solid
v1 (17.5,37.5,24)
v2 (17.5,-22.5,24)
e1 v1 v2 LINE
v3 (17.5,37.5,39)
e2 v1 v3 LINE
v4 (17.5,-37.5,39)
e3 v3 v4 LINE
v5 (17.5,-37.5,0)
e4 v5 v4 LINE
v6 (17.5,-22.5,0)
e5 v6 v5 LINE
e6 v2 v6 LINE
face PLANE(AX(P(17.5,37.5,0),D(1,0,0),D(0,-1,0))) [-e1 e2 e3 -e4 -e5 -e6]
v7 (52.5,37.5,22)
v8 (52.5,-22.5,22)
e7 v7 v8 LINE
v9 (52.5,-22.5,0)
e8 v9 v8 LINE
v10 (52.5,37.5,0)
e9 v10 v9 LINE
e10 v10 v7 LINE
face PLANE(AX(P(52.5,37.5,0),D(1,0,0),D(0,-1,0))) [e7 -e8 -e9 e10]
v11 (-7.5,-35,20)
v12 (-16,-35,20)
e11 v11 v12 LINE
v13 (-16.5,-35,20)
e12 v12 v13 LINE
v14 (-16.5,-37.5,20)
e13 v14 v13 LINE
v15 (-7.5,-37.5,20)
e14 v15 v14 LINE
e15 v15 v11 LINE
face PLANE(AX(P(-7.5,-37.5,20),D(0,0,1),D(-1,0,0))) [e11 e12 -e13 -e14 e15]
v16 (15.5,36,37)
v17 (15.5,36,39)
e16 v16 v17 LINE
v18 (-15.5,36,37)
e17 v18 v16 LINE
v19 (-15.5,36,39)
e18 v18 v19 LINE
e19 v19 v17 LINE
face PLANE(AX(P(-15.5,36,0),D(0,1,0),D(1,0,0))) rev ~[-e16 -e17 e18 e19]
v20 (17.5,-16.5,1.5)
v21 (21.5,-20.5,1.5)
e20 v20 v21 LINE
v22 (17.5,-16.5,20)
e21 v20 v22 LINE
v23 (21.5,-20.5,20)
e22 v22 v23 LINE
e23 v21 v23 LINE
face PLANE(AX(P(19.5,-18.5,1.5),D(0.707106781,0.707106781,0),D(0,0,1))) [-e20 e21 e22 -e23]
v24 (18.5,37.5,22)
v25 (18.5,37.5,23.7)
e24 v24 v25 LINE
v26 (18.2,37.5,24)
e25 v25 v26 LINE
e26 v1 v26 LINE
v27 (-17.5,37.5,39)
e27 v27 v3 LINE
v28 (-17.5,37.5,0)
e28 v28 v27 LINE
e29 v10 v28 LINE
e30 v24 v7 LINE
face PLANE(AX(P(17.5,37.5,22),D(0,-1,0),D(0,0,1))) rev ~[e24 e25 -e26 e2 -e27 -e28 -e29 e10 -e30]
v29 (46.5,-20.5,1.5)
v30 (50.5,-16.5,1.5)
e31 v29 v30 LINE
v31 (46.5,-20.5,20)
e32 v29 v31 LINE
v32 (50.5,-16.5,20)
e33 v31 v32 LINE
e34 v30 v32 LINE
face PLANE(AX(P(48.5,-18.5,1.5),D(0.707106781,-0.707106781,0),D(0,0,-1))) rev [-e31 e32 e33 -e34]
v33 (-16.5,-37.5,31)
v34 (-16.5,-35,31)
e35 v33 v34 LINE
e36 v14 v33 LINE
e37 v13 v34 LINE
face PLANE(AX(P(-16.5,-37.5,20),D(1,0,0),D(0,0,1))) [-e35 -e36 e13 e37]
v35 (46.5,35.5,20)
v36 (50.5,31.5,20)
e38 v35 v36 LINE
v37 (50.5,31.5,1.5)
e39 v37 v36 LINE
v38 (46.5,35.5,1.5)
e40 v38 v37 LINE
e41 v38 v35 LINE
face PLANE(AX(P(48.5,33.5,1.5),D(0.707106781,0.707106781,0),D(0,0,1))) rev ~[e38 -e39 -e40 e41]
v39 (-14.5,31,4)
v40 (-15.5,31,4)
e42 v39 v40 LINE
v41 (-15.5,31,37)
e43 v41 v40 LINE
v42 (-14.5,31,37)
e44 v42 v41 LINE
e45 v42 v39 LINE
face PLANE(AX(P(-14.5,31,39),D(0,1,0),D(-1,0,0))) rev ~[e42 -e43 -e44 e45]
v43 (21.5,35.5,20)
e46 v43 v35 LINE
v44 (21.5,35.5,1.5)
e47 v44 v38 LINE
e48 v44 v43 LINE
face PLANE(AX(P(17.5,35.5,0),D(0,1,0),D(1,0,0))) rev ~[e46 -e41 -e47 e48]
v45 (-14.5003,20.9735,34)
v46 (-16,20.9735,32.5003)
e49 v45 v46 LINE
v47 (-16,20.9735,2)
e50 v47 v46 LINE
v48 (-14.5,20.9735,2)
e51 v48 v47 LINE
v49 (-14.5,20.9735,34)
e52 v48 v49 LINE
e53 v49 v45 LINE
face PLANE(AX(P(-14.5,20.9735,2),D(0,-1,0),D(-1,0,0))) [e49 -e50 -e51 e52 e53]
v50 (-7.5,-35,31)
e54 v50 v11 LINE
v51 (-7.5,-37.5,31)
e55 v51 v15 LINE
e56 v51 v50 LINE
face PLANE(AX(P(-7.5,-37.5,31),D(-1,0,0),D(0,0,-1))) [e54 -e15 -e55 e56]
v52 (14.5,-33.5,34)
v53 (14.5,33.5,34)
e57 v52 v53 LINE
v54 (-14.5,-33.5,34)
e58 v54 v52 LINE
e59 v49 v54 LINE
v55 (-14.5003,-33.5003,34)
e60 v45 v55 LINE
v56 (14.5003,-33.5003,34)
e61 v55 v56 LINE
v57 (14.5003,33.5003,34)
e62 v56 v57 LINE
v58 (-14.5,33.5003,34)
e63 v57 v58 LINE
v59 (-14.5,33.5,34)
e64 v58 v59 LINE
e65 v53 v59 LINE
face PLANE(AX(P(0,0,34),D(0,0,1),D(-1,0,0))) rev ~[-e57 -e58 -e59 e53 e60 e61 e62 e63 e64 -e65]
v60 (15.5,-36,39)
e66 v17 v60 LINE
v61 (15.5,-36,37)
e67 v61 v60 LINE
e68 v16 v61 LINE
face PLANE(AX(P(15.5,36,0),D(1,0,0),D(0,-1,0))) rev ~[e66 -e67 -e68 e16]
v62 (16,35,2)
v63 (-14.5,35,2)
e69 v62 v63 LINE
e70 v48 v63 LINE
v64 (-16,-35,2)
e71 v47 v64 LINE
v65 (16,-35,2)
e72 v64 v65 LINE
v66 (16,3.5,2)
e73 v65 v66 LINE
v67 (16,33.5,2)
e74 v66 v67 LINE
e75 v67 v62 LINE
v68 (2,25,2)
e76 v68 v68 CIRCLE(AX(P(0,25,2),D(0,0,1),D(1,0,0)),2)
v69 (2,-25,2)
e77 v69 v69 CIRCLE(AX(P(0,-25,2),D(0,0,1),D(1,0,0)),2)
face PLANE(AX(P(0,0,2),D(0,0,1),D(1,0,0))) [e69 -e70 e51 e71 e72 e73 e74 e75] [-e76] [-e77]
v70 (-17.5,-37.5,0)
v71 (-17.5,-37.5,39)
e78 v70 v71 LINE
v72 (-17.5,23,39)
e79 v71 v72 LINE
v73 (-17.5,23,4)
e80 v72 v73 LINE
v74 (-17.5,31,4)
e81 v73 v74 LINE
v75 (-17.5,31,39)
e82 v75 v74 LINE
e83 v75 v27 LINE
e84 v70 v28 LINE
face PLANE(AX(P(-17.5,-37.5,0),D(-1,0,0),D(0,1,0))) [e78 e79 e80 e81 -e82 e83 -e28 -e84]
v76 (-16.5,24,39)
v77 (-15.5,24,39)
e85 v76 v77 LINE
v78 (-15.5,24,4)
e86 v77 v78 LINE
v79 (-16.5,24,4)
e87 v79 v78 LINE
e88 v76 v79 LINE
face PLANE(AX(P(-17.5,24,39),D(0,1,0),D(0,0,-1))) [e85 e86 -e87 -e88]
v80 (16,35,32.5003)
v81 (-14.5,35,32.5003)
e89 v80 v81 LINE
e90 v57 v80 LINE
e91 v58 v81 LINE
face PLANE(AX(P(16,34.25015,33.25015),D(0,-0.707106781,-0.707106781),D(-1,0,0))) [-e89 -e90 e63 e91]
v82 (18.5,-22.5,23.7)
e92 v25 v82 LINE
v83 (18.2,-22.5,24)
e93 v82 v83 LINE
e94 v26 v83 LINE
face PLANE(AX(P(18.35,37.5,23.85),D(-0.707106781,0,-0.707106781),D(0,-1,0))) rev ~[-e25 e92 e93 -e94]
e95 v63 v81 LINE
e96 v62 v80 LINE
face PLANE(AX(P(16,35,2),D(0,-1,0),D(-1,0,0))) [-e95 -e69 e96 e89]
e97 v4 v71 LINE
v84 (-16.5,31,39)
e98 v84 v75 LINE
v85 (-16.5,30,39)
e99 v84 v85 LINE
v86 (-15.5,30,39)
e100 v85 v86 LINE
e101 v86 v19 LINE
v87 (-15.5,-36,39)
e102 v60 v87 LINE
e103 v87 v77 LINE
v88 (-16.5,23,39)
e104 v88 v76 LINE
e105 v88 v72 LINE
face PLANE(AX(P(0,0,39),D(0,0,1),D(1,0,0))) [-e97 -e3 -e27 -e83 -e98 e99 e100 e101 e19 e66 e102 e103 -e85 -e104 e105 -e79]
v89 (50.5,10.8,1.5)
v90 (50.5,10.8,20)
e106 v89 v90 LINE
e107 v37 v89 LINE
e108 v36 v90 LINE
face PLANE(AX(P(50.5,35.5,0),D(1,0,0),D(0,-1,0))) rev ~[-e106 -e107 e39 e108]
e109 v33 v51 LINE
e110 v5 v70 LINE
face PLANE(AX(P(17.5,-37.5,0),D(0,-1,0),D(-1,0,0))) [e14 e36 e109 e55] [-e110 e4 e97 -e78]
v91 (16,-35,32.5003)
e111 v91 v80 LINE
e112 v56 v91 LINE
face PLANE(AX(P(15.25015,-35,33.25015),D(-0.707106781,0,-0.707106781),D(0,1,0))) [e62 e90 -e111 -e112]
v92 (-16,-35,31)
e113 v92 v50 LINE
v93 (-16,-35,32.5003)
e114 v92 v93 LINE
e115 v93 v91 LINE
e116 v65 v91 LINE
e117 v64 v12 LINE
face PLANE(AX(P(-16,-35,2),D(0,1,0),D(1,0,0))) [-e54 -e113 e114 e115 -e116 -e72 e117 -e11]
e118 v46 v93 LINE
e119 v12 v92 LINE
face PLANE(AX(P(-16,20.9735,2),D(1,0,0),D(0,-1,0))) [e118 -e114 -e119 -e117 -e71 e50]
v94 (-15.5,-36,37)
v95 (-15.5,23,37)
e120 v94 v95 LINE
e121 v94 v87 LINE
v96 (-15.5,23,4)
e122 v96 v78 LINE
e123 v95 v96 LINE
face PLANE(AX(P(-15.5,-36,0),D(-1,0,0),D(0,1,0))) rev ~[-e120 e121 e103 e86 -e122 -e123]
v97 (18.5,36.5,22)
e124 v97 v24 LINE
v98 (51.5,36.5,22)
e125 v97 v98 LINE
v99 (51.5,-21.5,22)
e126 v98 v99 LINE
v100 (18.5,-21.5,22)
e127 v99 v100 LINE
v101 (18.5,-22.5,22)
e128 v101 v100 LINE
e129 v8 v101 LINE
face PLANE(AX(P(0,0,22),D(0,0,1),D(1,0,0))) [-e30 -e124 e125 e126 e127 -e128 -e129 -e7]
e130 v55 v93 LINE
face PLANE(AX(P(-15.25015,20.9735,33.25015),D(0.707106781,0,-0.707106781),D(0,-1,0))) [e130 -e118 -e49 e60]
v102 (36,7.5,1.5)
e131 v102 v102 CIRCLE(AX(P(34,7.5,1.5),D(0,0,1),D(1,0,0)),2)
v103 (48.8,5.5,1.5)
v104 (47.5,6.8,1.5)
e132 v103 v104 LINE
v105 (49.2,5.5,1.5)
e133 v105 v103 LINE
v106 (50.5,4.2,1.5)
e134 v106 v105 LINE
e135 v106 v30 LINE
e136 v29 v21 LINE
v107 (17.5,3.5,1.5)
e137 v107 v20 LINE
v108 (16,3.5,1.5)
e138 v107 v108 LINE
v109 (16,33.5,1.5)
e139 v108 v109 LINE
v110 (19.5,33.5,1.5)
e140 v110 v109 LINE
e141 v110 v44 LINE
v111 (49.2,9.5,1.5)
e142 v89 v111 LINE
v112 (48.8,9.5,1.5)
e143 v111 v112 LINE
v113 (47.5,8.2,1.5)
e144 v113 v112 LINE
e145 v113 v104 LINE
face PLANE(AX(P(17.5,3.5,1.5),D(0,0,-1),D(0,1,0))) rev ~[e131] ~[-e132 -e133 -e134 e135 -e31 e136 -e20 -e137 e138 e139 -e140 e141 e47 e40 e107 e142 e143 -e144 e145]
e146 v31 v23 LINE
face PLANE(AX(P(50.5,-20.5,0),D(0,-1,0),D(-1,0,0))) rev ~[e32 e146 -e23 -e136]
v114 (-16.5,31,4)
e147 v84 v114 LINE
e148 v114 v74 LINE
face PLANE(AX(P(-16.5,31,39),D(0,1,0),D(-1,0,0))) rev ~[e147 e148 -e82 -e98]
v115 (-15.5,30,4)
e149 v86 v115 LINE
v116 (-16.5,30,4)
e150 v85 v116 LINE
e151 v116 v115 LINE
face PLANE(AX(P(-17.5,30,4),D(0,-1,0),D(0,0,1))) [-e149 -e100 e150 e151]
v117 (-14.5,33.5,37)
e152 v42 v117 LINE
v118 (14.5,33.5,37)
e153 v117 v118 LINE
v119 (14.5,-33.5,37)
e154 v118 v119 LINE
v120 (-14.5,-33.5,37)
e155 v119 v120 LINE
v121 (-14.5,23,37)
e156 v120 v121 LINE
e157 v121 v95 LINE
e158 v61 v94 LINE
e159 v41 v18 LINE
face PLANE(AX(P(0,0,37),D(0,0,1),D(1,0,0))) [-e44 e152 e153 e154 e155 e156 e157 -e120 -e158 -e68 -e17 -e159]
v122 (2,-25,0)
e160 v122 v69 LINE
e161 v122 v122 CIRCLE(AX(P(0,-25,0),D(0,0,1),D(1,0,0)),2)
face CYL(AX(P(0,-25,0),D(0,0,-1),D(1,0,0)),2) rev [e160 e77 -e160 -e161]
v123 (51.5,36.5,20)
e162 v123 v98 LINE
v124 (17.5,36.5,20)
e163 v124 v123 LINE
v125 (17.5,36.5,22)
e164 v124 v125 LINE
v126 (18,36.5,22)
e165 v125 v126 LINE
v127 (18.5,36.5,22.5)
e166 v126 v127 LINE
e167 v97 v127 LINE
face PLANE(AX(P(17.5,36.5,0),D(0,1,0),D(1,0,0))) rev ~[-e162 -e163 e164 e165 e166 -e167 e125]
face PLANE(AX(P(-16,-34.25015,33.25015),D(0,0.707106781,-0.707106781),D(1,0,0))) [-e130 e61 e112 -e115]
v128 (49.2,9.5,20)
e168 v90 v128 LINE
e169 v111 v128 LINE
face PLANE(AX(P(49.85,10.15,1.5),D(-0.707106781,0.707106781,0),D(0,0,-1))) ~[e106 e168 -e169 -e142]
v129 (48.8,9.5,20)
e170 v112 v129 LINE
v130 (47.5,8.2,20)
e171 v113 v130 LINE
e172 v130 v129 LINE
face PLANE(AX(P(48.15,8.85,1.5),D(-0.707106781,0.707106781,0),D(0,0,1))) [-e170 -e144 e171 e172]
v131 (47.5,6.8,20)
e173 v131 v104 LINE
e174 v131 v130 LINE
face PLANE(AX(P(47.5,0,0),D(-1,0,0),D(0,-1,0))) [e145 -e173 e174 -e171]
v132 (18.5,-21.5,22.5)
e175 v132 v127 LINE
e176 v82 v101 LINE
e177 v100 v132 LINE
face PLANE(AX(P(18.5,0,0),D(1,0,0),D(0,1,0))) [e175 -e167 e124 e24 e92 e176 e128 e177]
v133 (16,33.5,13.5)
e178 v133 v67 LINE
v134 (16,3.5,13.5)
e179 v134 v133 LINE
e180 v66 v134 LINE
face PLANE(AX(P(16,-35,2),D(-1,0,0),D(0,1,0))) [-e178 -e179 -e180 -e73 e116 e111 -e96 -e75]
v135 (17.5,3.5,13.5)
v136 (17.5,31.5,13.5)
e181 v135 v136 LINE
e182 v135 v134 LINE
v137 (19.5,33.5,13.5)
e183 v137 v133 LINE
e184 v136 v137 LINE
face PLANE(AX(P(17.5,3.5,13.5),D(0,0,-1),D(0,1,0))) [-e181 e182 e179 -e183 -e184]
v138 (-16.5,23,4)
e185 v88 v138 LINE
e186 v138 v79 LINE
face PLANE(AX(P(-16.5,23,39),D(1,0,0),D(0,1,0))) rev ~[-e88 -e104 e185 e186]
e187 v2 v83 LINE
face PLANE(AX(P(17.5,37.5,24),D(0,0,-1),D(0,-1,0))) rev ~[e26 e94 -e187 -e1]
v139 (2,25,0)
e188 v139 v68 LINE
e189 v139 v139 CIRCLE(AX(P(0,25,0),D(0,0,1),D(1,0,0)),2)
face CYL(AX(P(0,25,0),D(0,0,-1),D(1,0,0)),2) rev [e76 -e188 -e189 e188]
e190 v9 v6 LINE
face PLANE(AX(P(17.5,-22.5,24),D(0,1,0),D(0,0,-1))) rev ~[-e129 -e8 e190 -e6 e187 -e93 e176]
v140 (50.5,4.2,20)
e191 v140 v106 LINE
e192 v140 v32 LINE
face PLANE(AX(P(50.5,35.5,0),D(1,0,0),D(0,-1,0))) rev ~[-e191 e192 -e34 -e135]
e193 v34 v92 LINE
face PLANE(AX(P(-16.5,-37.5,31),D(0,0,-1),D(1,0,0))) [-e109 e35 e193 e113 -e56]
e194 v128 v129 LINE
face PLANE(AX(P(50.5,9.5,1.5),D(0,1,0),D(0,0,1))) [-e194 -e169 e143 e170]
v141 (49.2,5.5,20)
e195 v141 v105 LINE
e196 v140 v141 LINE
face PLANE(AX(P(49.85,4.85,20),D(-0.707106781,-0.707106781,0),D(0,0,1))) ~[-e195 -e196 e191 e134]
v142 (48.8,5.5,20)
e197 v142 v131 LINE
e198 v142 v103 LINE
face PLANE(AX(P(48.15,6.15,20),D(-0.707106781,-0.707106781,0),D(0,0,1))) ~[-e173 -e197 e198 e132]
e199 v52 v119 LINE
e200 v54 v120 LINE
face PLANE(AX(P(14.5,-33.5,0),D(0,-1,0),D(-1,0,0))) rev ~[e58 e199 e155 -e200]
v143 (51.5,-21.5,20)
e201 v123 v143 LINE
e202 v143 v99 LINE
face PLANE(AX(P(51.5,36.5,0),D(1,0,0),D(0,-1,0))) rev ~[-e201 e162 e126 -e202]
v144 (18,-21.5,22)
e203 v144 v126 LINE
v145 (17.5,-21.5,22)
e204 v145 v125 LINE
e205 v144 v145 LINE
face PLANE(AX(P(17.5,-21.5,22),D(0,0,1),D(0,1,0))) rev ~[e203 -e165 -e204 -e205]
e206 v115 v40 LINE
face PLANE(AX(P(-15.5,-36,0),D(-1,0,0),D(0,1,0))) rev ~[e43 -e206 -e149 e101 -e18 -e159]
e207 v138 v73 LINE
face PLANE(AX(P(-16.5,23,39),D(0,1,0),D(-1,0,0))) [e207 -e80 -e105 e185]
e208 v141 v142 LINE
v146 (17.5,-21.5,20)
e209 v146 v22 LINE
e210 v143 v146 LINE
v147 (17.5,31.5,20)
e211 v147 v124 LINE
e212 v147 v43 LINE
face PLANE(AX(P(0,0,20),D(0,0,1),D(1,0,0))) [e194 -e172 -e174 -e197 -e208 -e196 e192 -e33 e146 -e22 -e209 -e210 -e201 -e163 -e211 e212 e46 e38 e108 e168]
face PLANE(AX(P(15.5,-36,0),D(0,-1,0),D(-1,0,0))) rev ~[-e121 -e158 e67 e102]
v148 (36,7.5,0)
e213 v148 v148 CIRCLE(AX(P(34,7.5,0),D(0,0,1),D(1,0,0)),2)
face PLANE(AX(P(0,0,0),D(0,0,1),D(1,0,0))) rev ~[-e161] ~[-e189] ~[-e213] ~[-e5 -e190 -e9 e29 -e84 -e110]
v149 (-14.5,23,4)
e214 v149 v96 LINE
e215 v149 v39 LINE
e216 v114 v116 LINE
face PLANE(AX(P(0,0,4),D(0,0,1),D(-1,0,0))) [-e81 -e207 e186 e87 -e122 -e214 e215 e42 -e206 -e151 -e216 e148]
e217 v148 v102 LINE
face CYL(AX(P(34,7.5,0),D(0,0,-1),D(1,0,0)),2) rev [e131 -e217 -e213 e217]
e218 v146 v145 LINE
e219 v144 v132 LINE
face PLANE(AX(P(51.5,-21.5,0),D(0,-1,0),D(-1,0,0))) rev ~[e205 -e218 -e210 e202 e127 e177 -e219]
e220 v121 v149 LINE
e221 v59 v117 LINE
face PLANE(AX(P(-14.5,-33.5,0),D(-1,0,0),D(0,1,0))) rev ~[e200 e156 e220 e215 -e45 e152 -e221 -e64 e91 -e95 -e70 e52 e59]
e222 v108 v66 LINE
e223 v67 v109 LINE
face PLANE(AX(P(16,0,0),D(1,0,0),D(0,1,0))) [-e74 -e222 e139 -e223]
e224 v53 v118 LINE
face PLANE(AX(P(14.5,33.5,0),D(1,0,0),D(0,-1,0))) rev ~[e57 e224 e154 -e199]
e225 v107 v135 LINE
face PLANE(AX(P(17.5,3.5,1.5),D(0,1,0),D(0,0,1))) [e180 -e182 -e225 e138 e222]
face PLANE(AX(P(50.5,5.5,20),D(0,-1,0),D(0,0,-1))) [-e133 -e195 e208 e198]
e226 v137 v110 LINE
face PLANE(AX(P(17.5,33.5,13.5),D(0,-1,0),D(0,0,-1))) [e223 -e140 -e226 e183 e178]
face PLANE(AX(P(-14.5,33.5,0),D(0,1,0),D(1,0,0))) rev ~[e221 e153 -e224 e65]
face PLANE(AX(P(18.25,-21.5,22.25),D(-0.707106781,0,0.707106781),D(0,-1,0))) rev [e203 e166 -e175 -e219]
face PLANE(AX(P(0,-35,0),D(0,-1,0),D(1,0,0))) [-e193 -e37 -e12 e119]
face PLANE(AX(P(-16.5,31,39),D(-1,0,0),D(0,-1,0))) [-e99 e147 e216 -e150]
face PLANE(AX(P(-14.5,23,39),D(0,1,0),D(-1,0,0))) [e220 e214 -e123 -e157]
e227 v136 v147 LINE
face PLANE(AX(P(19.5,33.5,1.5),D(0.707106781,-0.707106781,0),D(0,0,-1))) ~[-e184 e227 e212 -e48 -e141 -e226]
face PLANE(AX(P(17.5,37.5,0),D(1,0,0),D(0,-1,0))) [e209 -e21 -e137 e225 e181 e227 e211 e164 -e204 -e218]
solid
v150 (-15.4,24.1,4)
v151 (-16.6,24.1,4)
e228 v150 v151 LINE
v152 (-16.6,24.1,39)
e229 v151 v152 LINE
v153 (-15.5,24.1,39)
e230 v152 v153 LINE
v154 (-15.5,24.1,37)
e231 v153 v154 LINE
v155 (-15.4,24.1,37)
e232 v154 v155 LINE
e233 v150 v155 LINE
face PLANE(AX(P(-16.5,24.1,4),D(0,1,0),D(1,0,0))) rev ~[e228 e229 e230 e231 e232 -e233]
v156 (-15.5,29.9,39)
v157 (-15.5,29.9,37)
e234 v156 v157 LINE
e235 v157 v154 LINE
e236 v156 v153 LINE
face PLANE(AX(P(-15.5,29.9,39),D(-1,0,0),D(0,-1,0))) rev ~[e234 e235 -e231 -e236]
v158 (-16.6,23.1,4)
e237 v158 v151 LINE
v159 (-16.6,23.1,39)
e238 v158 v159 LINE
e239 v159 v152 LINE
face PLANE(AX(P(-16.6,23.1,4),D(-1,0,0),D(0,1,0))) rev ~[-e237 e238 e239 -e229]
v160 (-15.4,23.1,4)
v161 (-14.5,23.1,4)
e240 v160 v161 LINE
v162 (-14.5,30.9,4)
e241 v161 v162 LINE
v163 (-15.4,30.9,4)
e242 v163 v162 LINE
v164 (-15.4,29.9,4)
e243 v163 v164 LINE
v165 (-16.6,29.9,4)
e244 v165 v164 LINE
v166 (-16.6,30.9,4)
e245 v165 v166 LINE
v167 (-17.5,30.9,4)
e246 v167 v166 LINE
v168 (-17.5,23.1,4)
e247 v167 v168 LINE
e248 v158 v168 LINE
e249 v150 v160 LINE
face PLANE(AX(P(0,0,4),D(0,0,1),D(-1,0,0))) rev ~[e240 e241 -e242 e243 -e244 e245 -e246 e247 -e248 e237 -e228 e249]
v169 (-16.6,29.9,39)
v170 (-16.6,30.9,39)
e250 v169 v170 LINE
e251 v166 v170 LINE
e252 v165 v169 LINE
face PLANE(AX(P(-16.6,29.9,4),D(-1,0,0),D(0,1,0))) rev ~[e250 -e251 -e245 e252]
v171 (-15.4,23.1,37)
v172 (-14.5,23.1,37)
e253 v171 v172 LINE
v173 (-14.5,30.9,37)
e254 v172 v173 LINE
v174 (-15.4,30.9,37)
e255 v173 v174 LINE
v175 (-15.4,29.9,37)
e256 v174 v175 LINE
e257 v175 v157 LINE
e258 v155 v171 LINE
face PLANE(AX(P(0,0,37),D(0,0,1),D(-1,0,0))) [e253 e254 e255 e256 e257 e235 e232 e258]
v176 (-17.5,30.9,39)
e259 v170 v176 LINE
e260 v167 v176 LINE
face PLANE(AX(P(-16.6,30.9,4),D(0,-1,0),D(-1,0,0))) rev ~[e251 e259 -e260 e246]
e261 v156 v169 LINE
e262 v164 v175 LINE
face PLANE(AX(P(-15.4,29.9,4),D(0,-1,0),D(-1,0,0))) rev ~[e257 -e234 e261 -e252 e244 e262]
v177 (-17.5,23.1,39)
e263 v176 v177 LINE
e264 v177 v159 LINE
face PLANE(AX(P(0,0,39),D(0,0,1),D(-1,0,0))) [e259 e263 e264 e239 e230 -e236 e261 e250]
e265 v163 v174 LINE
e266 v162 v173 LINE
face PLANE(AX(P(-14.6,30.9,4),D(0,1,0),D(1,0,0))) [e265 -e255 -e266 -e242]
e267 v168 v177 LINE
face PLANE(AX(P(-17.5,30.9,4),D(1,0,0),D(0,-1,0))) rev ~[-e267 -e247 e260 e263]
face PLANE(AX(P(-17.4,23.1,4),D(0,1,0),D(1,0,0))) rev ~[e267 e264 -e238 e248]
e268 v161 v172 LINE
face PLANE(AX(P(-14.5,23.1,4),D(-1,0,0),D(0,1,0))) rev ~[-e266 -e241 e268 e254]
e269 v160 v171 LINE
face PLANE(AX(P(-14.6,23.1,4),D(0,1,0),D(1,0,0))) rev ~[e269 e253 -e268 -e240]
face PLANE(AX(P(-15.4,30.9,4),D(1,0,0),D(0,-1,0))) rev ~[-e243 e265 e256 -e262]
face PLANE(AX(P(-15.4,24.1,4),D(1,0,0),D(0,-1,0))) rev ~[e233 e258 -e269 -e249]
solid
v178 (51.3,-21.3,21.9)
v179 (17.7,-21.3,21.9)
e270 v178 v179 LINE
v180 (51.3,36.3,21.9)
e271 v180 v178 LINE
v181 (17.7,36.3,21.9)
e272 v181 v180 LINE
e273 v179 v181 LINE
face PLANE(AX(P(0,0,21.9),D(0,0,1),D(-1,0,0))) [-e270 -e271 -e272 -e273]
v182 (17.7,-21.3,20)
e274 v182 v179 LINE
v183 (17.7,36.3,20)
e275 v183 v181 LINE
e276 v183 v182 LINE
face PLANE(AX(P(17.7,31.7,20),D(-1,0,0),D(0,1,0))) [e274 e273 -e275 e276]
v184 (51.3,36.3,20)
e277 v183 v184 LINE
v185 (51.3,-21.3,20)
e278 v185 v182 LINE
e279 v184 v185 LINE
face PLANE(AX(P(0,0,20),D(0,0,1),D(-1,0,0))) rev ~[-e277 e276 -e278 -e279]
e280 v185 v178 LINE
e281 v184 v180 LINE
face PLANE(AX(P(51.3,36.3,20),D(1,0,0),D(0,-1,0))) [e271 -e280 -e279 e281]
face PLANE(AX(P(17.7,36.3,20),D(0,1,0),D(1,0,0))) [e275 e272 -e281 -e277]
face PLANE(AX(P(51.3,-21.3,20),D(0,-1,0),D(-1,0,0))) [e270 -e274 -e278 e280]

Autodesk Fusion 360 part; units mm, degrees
sketch "Sketch1" plane through (0, 0, 0) normal (0, 0, 1) x (1, 0, 0)
  line L0 (-17.5, 37.5) -> (17.5, 37.5)
  line L1 (17.5, 37.5) -> (17.5, -37.5)
  line L2 (17.5, -37.5) -> (-17.5, -37.5)
  line L3 (-17.5, -37.5) -> (-17.5, 37.5)
  line L4 (-14.5, 33.5) -> (14.5, 33.5)
  line L5 (14.5, 33.5) -> (14.5, -33.5)
  line L6 (14.5, -33.5) -> (-14.5, -33.5)
  line L7 (-14.5, -33.5) -> (-14.5, 33.5)
  line L8 (-15.5, 36) -> (15.5, 36)
  line L9 (15.5, 36) -> (15.5, -36)
  line L10 (15.5, -36) -> (-15.5, -36)
  line L11 (-15.5, -36) -> (-15.5, 36)
  line L12 (-14.5, -33.5) -> (14.5, 33.5) construction
  line L13 (-15.5, -36) -> (15.5, 36) construction
  line L14 (-17.5, -37.5) -> (17.5, 37.5) construction
  circle A0 centre (0, 25) radius 2
  circle A1 centre (0, -25) radius 2
  line L15 (0, 25) -> (0, 0) construction
  line L16 (0, -25) -> (0, 0) construction
  dimension "d1" = 35
  dimension "d2" = 75
  dimension "d3" = 29
  dimension "d4" = 67
  dimension "d5" = 31
  dimension "d6" = 72
  dimension "d7" = 4
  dimension "d8" = 4
  dimension "d9" = 25
extrude "Extrude1" add sketch "Sketch1" along normal blind 2 contours L4 L5 L6 L7 makes body 1
extrude "Extrude2" add sketch "Sketch1" along normal blind 37 contours L8 L9 L10 L11 bodies 1
extrude "Extrude3" add sketch "Sketch1" along normal blind 39 contours L0 L1 L2 L3 bodies 1
sketch "Sketch2" plane through (-17.5, 0, 0) normal (-1, 0, 0) x (0, -1, 0)
  line L0 (-37.5, 0) -> (37.5, 0)
  line L1 (37.5, 0) -> (37.5, 39)
  line L2 (37.5, 39) -> (-37.5, 39)
  line L3 (-37.5, 39) -> (-37.5, 0)
  line L4 (-30, 39) -> (-24, 39)
  line L5 (-24, 39) -> (-24, 4)
  line L6 (-24, 4) -> (-30, 4)
  line L7 (-30, 4) -> (-30, 39)
  dimension "d16" = 6
  dimension "d17" = 35
extrude "Extrude4" cut sketch "Sketch2" against normal up to surface (3 mm away) contours L2 L4 L5 L6 L7 bodies 1
sketch "Sketch3" plane through (0, 0, 39) normal (0, 0, 1) x (-1, 0, 0)
  line L0 (17.5, -30) -> (15.5, -30)
  line L1 (15.5, -30) -> (15.5, -36)
  line L2 (15.5, -36) -> (-15.5, -36)
  line L3 (-15.5, -36) -> (-15.5, 36)
  line L4 (-15.5, 36) -> (15.5, 36)
  line L5 (15.5, 36) -> (15.5, -24)
  line L6 (15.5, -24) -> (17.5, -24)
  line L7 (17.5, -24) -> (17.5, 37.5)
  line L8 (17.5, 37.5) -> (-17.5, 37.5)
  line L9 (-17.5, 37.5) -> (-17.5, -37.5)
  line L10 (-17.5, -37.5) -> (17.5, -37.5)
  line L11 (17.5, -37.5) -> (17.5, -30)
  line L12 (15.5, -30) -> (14.5, -30)
  line L13 (14.5, -30) -> (14.5, -33.5)
  line L14 (14.5, -33.5) -> (-14.5, -33.5)
  line L15 (-14.5, -33.5) -> (-14.5, 33.5)
  line L16 (-14.5, 33.5) -> (14.5, 33.5)
  line L17 (14.5, 33.5) -> (14.5, -24)
  line L18 (14.5, -24) -> (15.5, -24)
  line L19 (15.5, -24) -> (15.5, 36)
  line L20 (15.5, 36) -> (-15.5, 36)
  line L21 (-15.5, 36) -> (-15.5, -36)
  line L22 (-15.5, -36) -> (15.5, -36)
  line L23 (15.5, -36) -> (15.5, -30)
  line L24 (17.5, -30) -> (14.5, -30)
  line L25 (14.5, -30) -> (14.5, -31)
  line L26 (14.5, -31) -> (17.5, -31)
  line L27 (17.5, -31) -> (17.5, -30)
  line L28 (17.5, -24) -> (14.5, -24)
  line L29 (14.5, -24) -> (14.5, -23)
  line L30 (14.5, -23) -> (17.5, -23)
  line L31 (17.5, -23) -> (17.5, -24)
  line L32 (16.5, -31) -> (16.5, -30)
  line L33 (16.5, -23) -> (16.5, -24)
  dimension "d20" = 3
  dimension "d21" = 1
  dimension "d22" = 3
  dimension "d23" = 1
extrude "Extrude5" cut sketch "Sketch3" against normal blind 35 contours L0 L11 L24 L26 L27 L32 | L1 L12 L13 L23 L24 L25 L26 | L6 L7 L28 L30 L31 L33 | L5 L17 L18 L19 L28 L29 L30 bodies 1
copy_body "Body->Comp1" bodies 1 removing the originals makes body 2 in component "base"
sketch "Sketch1 (2)" plane through (0, 0, 4) normal (0, 0, 1) x (-1, 0, 0) in component "protection"
  line L0 (14.5, -23) -> (14.5, -31)
  line L1 (14.5, -31) -> (15.5, -31)
  line L2 (15.5, -31) -> (15.5, -30)
  line L3 (15.5, -30) -> (16.5, -30)
  line L4 (16.5, -30) -> (16.5, -31)
  line L5 (16.5, -31) -> (17.5, -31)
  line L6 (17.5, -31) -> (17.5, -23)
  line L7 (17.5, -23) -> (16.5, -23)
  line L8 (16.5, -23) -> (16.5, -24)
  line L9 (16.5, -24) -> (15.5, -24)
  line L10 (15.5, -24) -> (15.5, -23)
  line L11 (15.5, -23) -> (14.5, -23)
  line L12 (16.6, -23.1) -> (16.6, -24.1)
  line L13 (16.6, -24.1) -> (15.4, -24.1)
  line L14 (15.4, -24.1) -> (15.4, -23.1)
  line L15 (15.4, -23.1) -> (14.6, -23.1)
  line L16 (14.6, -23.1) -> (14.6, -30.9)
  line L17 (14.6, -30.9) -> (15.4, -30.9)
  line L18 (15.4, -30.9) -> (15.4, -29.9)
  line L19 (15.4, -29.9) -> (16.6, -29.9)
  line L20 (16.6, -29.9) -> (16.6, -30.9)
  line L21 (16.6, -30.9) -> (17.4, -30.9)
  line L22 (17.4, -30.9) -> (17.4, -23.1)
  line L23 (17.4, -23.1) -> (16.6, -23.1)
  line L24 (14.6, -23.1) -> (14.5, -23.1)
  line L25 (17.4, -23.1) -> (17.5, -23.1)
  line L26 (14.6, -30.9) -> (14.5, -30.9)
  line L27 (17.4, -30.9) -> (17.5, -30.9)
  line L28 (16.5, -24.1) -> (16.5, -29.9)
  dimension "d26" = -0.1
extrude "Extrude1'" add sketch "Sketch1 (2)" along normal blind 35 separate body contours L0 L16 L24 L26 | L13 L14 L15 L16 L17 L18 L19 L28 | L12 L13 L19 L20 L21 L22 L23 L28 | L6 L22 L25 L27 makes body 3 in component "protection"
sketch "Sketch2 (2)" plane through (0, 0, 39) normal (0, 0, 1) x (-1, 0, 0) in component "protection"
  line L0 (14.5, -30.9) -> (15.4, -30.9)
  line L1 (15.4, -30.9) -> (15.4, -29.9)
  line L2 (15.4, -29.9) -> (16.6, -29.9)
  line L3 (16.6, -29.9) -> (16.6, -30.9)
  line L4 (16.6, -30.9) -> (17.4, -30.9)
  line L5 (17.4, -30.9) -> (17.5, -30.9)
  line L6 (17.5, -30.9) -> (17.5, -23.1)
  line L7 (17.5, -23.1) -> (17.4, -23.1)
  line L8 (17.4, -23.1) -> (16.6, -23.1)
  line L9 (16.6, -23.1) -> (16.6, -24.1)
  line L10 (16.6, -24.1) -> (15.4, -24.1)
  line L11 (15.4, -24.1) -> (15.4, -23.1)
  line L12 (15.4, -23.1) -> (14.5, -23.1)
  line L13 (14.5, -23.1) -> (14.5, -30.9)
  line L14 (15.5, -29.9) -> (15.5, -24.1)
extrude "Extrude4'" cut sketch "Sketch2 (2)" against normal blind 2 contours L0 L1 L2 L10 L11 L12 L13 L14 bodies 3 in component "protection"
sketch "Sketch4" plane through (0, 0, 2) normal (0, 0, 1) x (-1, 0, 0)
  circle A0 centre (0, -25) radius 2
  circle A1 centre (0, 25) radius 2
  line L0 (14.5, 33.5) -> (-14.5, 33.5)
  line L1 (-14.5, 33.5) -> (-14.5, -33.5)
  line L2 (-14.5, -33.5) -> (14.5, -33.5)
  line L3 (14.5, -33.5) -> (14.5, 33.5)
  line L4 (17.5, -37.5) -> (17.5, 37.5)
  line L5 (17.5, 37.5) -> (-17.5, 37.5)
  line L6 (-17.5, 37.5) -> (-17.5, -37.5)
  line L7 (-17.5, -37.5) -> (17.5, -37.5)
  line L8 (-14.5, -33.5) -> (-14.5, 33.5)
  line L9 (-14.5, 33.5) -> (14.5, 33.5)
  line L10 (14.5, 33.5) -> (14.5, -33.5)
  line L11 (14.5, -33.5) -> (-14.5, -33.5)
  circle A2 centre (0, 25) radius 2
  circle A3 centre (0, -25) radius 2
  line L12 (-16, -35) -> (16, -35)
  line L13 (16, -35) -> (16, 35)
  line L14 (16, 35) -> (-16, 35)
  line L15 (-16, 35) -> (-16, -35)
  line L16 (16, -35) -> (14.5, -35)
  line L17 (14.5, -35) -> (14.5, -20.9735)
  line L18 (14.5, -20.9735) -> (16, -20.9735)
  line L19 (16, -20.9735) -> (16, -35)
  dimension "d39" = 1.5
extrude "Extrude1''" cut sketch "Sketch4" along normal blind 32 contours L0 L1 L2 L3 L8 L9 L10 L11 L12 L13 L14 L15 L17 L18 bodies 2 in component "base"
chamfer "Chamfer1" distance 1.5 angle 45 4 edges at (-16, -7.0132, 34) (0, -35, 34) (0.75, 35, 34) (16, 0, 34) on bodies 2 in component "base"
sketch "Sketch5" plane through (0, 0, 0) normal (0, 0, 1) x (1, 0, 0)
  line L0 (-17.5, -37.5) -> (-17.5, 37.5)
  line L1 (-17.5, 37.5) -> (17.5, 37.5)
  line L2 (17.5, 37.5) -> (17.5, -37.5)
  line L3 (17.5, -37.5) -> (-17.5, -37.5)
  circle A0 centre (0, -25) radius 2
  circle A1 centre (0, 25) radius 2
  line L4 (17.5, 37.5) -> (52.5, 37.5)
  line L5 (52.5, 37.5) -> (52.5, -22.5)
  line L6 (52.5, -22.5) -> (17.5, -22.5)
  line L7 (17.5, -22.5) -> (17.5, 37.5)
  line L8 (17.5, 35.5) -> (50.5, 35.5)
  line L9 (50.5, 35.5) -> (50.5, -20.5)
  line L10 (50.5, -20.5) -> (17.5, -20.5)
  line L11 (17.5, -20.5) -> (17.5, 35.5)
  line L12 (51.5, -21.5) -> (16.5, -21.5)
  line L13 (16.5, -21.5) -> (16.5, 36.5)
  line L14 (16.5, 36.5) -> (51.5, 36.5)
  line L15 (51.5, 36.5) -> (51.5, -21.5)
  line L16 (17.5, 35.5) -> (50.5, -20.5) construction
  circle A2 centre (34, 7.5) radius 2
  point P0 (34, 7.5)
  dimension "d43" = 35
  dimension "d44" = 60
  dimension "d45" = 2
  dimension "d46" = 2
  dimension "d47" = 2
  dimension "d48" = -1
  dimension "d49" = 4
extrude "Extrude2'" add sketch "Sketch5" along normal blind 1.5 contours L2 L7 L8 L9 L10 L11 bodies 2 in component "base"
sketch "Sketch1 (3)" plane through (17.5, 0, 0) normal (1, 0, 0) x (0, 1, 0) in component "base"
  line L0 (-20.5, 0) -> (-20.5, 1.5)
  line L1 (-20.5, 1.5) -> (35.5, 1.5)
  line L2 (35.5, 1.5) -> (35.5, 0)
  line L3 (35.5, 0) -> (37.5, 0)
  line L4 (37.5, 0) -> (37.5, 39)
  line L5 (37.5, 39) -> (-37.5, 39)
  line L6 (-37.5, 39) -> (-37.5, 0)
  line L7 (-37.5, 0) -> (-20.5, 0)
  line L8 (33.5, 1.5) -> (3.5, 1.5)
  line L9 (3.5, 1.5) -> (3.5, 13.5)
  line L10 (3.5, 13.5) -> (33.5, 13.5)
  line L11 (33.5, 13.5) -> (33.5, 1.5)
  dimension "d52" = 30
  dimension "d53" = 12
  dimension "d54" = 2
extrude "Extrude3'" cut sketch "Sketch1 (3)" against normal up to surface (1.5 mm away) contours L1 L8 L9 L10 L11 bodies 2 in component "base"
extrude "Extrude4''" add sketch "Sketch5" along normal blind 20 contours L2 L7 L8 L9 L10 L12 L14 L15 bodies 2 in component "base"
extrude "Extrude5'" add sketch "Sketch5" along normal blind 22 contours L2 L4 L5 L6 L7 L12 L14 L15 bodies 2 in component "base"
chamfer "Chamfer2" distance 4 angle 45 4 edges at (17.5, -20.5, 10.75) (50.5, -20.5, 10.75) (50.5, 35.5, 10.75) (17.5, 35.5, 10.75) on bodies 2 in component "base"
sketch "Sketch2 (3)" plane through (17.5, 0, 0) normal (1, 0, 0) x (0, 1, 0) in component "base"
  line L0 (31.5, 13.5) -> (31.5, 20)
  line L1 (31.5, 20) -> (36.5, 20)
  line L2 (36.5, 20) -> (36.5, 22)
  line L3 (36.5, 22) -> (37.5, 22)
  line L4 (37.5, 22) -> (37.5, 39)
  line L5 (37.5, 39) -> (-37.5, 39)
  line L6 (-37.5, 39) -> (-37.5, 0)
  line L7 (-37.5, 0) -> (-22.5, 0)
  line L8 (-22.5, 0) -> (-22.5, 22)
  line L9 (-22.5, 22) -> (-21.5, 22)
  line L10 (-21.5, 22) -> (-21.5, 20)
  line L11 (-21.5, 20) -> (-16.5, 20)
  line L12 (-16.5, 20) -> (-16.5, 1.5)
  line L13 (-16.5, 1.5) -> (3.5, 1.5)
  line L14 (3.5, 1.5) -> (3.5, 13.5)
  line L15 (3.5, 13.5) -> (31.5, 13.5)
  line L16 (-22.5, 22) -> (37.5, 22)
  line L17 (37.5, 22) -> (37.5, 24)
  line L18 (37.5, 24) -> (-22.5, 24)
  line L19 (-22.5, 24) -> (-22.5, 22)
  dimension "d62" = 2
extrude "Extrude6" add sketch "Sketch2 (3)" along normal blind 1 contours L3 L4 L9 L16 L17 L18 L19 bodies 2 in component "base"
chamfer "Chamfer3" distance 0.5 angle 45 1 edges at (18.5, 7.5, 22) on bodies 2 in component "base"
chamfer "Chamfer4" distance 0.3 angle 45 1 edges at (18.5, 7.5, 24) on bodies 2 in component "base"
sketch "Sketch1 (4)" plane through (0, 0, 20) normal (0, 0, 1) x (-1, 0, 0) in component "lid"
  line L0 (-21.5, -35.5) -> (-46.5, -35.5)
  line L1 (-46.5, -35.5) -> (-50.5, -31.5)
  line L2 (-50.5, -31.5) -> (-50.5, 16.5)
  line L3 (-50.5, 16.5) -> (-46.5, 20.5)
  line L4 (-46.5, 20.5) -> (-21.5, 20.5)
  line L5 (-21.5, 20.5) -> (-17.5, 16.5)
  line L6 (-17.5, 16.5) -> (-17.5, 21.5)
  line L7 (-17.5, 21.5) -> (-51.5, 21.5)
  line L8 (-51.5, 21.5) -> (-51.5, -36.5)
  line L9 (-51.5, -36.5) -> (-17.5, -36.5)
  line L10 (-17.5, -36.5) -> (-17.5, -31.5)
  line L11 (-17.5, -31.5) -> (-21.5, -35.5)
  line L12 (-46.5, -35.5) -> (-50.5, -31.5)
  line L13 (-50.5, -31.5) -> (-50.5, 16.5)
  line L14 (-50.5, 16.5) -> (-46.5, 20.5)
  line L15 (-46.5, 20.5) -> (-21.5, 20.5)
  line L16 (-21.5, 20.5) -> (-17.5, 16.5)
  line L17 (-17.5, 21.5) -> (-17.5, 16.5)
  line L18 (-51.5, 21.5) -> (-17.5, 21.5)
  line L19 (-51.5, -36.5) -> (-51.5, 21.5)
  line L20 (-17.5, -36.5) -> (-51.5, -36.5)
  line L21 (-17.5, -31.5) -> (-17.5, -36.5)
  line L22 (-17.5, -31.5) -> (-21.5, -35.5)
  line L23 (-21.5, -35.5) -> (-46.5, -35.5)
  line L24 (-17.5, 16.5) -> (-17.5, -31.5)
  line L25 (14.5, -23) -> (15.5, -23)
  line L26 (15.5, -23) -> (15.5, -24)
  line L27 (15.5, -24) -> (16.5, -24)
  line L28 (16.5, -24) -> (16.5, -23)
  line L29 (16.5, -23) -> (17.5, -23)
  line L30 (17.5, -23) -> (17.5, 37.5)
  line L31 (17.5, 37.5) -> (-17.5, 37.5)
  line L32 (-17.5, 37.5) -> (-17.5, 22.5)
  line L33 (-17.5, 22.5) -> (-52.5, 22.5)
  line L34 (-52.5, 22.5) -> (-52.5, -37.5)
  line L35 (-52.5, -37.5) -> (17.5, -37.5)
  line L36 (17.5, -37.5) -> (17.5, -31)
  line L37 (17.5, -31) -> (16.5, -31)
  line L38 (16.5, -31) -> (16.5, -30)
  line L39 (16.5, -30) -> (15.5, -30)
  line L40 (15.5, -30) -> (15.5, -31)
  line L41 (15.5, -31) -> (14.5, -31)
  line L42 (14.5, -31) -> (14.5, -35)
  line L43 (14.5, -35) -> (-16, -35)
  line L44 (-16, -35) -> (-16, 35)
  line L45 (-16, 35) -> (16, 35)
  line L46 (16, 35) -> (16, -20.9735)
  line L47 (16, -20.9735) -> (14.5, -20.9735)
  line L48 (14.5, -20.9735) -> (14.5, -23)
  line L49 (-17.7, 16.5) -> (-17.7, -31.5)
  line L50 (-17.7, -31.5) -> (-17.7, -36.3)
  line L51 (-17.7, -36.3) -> (-51.3, -36.3)
  line L52 (-51.3, -36.3) -> (-51.3, 21.3)
  line L53 (-51.3, 21.3) -> (-17.7, 21.3)
  line L54 (-17.7, 21.3) -> (-17.7, 16.5)
  dimension "d67" = 0.2
extrude "Extrude1'''" add sketch "Sketch1 (4)" along normal blind 1.9 separate body contours L0 L1 L2 L3 L4 L5 L11 L12 L13 L14 L15 L16 L22 L23 L50 L51 L52 L53 L54 | L0 L1 L2 L3 L4 L5 L11 L12 L13 L14 L15 L16 L22 L23 L49 L50 L54 makes body 4 in component "lid"
sketch "Sketch3 (2)" plane through (50.5, 0, 0) normal (-1, 0, 0) x (0, -1, 0) in component "base"
  line L0 (-31.5, 20) -> (-31.5, 1.5)
  line L1 (-31.5, 1.5) -> (16.5, 1.5)
  line L2 (16.5, 1.5) -> (16.5, 20)
  line L3 (16.5, 20) -> (-31.5, 20)
  line L4 (-7.5, 20) -> (-7.5, 1.5) construction
  line L5 (-9.5, 20) -> (-5.5, 20)
  line L6 (-5.5, 20) -> (-5.5, 1.5)
  line L7 (-5.5, 1.5) -> (-9.5, 1.5)
  line L8 (-9.5, 1.5) -> (-9.5, 20)
  dimension "d70" = 4
extrude "Extrude7" add sketch "Sketch3 (2)" along normal blind 3 contours L1 L3 L5 L6 L7 L8 bodies 2 in component "base"
chamfer "Chamfer5" distance 1.3 angle 45 4 edges at (50.5, 5.5, 10.75) (50.5, 9.5, 10.75) (47.5, 9.5, 10.75) (47.5, 5.5, 10.75) on bodies 2 in component "base"
sketch "Sketch4 (2)" plane through (0, -37.5, 0) normal (0, -1, 0) x (1, 0, 0) in component "base"
  line L0 (-17.5, 0) -> (17.5, 0)
  line L1 (17.5, 0) -> (17.5, 39)
  line L2 (17.5, 39) -> (-17.5, 39)
  line L3 (-17.5, 39) -> (-17.5, 0)
  line L4 (15.5, 37) -> (-15.5, 37)
  line L5 (-15.5, 37) -> (-15.5, 39)
  line L6 (-15.5, 39) -> (15.5, 39)
  line L7 (15.5, 39) -> (15.5, 37)
  line L8 (-15.5, 37) -> (-15.5, 0) construction
  line L9 (-16.5, 31) -> (-7.5, 31)
  line L10 (-7.5, 31) -> (-7.5, 20)
  line L11 (-7.5, 20) -> (-16.5, 20)
  line L12 (-16.5, 20) -> (-16.5, 31)
  dimension "d74" = 1
  dimension "d75" = 9
  dimension "d76" = 11
  dimension "d77" = 6
extrude "Extrude8" cut sketch "Sketch4 (2)" against normal up to surface (2.5 mm away) contours L9 L10 L11 L12 bodies 2 in component "base"
component "base" placed x (1, 0, 0) y (0, 1, 0) z (0, 0, 1) at (0, 0, 0)
component "protection" placed x (1, 0, 0) y (0, 1, 0) z (0, 0, 1) at (0, 0, 0)
component "lid" placed x (1, 0, 0) y (0, 1, 0) z (0, 0, 1) at (0, 0, 0)
